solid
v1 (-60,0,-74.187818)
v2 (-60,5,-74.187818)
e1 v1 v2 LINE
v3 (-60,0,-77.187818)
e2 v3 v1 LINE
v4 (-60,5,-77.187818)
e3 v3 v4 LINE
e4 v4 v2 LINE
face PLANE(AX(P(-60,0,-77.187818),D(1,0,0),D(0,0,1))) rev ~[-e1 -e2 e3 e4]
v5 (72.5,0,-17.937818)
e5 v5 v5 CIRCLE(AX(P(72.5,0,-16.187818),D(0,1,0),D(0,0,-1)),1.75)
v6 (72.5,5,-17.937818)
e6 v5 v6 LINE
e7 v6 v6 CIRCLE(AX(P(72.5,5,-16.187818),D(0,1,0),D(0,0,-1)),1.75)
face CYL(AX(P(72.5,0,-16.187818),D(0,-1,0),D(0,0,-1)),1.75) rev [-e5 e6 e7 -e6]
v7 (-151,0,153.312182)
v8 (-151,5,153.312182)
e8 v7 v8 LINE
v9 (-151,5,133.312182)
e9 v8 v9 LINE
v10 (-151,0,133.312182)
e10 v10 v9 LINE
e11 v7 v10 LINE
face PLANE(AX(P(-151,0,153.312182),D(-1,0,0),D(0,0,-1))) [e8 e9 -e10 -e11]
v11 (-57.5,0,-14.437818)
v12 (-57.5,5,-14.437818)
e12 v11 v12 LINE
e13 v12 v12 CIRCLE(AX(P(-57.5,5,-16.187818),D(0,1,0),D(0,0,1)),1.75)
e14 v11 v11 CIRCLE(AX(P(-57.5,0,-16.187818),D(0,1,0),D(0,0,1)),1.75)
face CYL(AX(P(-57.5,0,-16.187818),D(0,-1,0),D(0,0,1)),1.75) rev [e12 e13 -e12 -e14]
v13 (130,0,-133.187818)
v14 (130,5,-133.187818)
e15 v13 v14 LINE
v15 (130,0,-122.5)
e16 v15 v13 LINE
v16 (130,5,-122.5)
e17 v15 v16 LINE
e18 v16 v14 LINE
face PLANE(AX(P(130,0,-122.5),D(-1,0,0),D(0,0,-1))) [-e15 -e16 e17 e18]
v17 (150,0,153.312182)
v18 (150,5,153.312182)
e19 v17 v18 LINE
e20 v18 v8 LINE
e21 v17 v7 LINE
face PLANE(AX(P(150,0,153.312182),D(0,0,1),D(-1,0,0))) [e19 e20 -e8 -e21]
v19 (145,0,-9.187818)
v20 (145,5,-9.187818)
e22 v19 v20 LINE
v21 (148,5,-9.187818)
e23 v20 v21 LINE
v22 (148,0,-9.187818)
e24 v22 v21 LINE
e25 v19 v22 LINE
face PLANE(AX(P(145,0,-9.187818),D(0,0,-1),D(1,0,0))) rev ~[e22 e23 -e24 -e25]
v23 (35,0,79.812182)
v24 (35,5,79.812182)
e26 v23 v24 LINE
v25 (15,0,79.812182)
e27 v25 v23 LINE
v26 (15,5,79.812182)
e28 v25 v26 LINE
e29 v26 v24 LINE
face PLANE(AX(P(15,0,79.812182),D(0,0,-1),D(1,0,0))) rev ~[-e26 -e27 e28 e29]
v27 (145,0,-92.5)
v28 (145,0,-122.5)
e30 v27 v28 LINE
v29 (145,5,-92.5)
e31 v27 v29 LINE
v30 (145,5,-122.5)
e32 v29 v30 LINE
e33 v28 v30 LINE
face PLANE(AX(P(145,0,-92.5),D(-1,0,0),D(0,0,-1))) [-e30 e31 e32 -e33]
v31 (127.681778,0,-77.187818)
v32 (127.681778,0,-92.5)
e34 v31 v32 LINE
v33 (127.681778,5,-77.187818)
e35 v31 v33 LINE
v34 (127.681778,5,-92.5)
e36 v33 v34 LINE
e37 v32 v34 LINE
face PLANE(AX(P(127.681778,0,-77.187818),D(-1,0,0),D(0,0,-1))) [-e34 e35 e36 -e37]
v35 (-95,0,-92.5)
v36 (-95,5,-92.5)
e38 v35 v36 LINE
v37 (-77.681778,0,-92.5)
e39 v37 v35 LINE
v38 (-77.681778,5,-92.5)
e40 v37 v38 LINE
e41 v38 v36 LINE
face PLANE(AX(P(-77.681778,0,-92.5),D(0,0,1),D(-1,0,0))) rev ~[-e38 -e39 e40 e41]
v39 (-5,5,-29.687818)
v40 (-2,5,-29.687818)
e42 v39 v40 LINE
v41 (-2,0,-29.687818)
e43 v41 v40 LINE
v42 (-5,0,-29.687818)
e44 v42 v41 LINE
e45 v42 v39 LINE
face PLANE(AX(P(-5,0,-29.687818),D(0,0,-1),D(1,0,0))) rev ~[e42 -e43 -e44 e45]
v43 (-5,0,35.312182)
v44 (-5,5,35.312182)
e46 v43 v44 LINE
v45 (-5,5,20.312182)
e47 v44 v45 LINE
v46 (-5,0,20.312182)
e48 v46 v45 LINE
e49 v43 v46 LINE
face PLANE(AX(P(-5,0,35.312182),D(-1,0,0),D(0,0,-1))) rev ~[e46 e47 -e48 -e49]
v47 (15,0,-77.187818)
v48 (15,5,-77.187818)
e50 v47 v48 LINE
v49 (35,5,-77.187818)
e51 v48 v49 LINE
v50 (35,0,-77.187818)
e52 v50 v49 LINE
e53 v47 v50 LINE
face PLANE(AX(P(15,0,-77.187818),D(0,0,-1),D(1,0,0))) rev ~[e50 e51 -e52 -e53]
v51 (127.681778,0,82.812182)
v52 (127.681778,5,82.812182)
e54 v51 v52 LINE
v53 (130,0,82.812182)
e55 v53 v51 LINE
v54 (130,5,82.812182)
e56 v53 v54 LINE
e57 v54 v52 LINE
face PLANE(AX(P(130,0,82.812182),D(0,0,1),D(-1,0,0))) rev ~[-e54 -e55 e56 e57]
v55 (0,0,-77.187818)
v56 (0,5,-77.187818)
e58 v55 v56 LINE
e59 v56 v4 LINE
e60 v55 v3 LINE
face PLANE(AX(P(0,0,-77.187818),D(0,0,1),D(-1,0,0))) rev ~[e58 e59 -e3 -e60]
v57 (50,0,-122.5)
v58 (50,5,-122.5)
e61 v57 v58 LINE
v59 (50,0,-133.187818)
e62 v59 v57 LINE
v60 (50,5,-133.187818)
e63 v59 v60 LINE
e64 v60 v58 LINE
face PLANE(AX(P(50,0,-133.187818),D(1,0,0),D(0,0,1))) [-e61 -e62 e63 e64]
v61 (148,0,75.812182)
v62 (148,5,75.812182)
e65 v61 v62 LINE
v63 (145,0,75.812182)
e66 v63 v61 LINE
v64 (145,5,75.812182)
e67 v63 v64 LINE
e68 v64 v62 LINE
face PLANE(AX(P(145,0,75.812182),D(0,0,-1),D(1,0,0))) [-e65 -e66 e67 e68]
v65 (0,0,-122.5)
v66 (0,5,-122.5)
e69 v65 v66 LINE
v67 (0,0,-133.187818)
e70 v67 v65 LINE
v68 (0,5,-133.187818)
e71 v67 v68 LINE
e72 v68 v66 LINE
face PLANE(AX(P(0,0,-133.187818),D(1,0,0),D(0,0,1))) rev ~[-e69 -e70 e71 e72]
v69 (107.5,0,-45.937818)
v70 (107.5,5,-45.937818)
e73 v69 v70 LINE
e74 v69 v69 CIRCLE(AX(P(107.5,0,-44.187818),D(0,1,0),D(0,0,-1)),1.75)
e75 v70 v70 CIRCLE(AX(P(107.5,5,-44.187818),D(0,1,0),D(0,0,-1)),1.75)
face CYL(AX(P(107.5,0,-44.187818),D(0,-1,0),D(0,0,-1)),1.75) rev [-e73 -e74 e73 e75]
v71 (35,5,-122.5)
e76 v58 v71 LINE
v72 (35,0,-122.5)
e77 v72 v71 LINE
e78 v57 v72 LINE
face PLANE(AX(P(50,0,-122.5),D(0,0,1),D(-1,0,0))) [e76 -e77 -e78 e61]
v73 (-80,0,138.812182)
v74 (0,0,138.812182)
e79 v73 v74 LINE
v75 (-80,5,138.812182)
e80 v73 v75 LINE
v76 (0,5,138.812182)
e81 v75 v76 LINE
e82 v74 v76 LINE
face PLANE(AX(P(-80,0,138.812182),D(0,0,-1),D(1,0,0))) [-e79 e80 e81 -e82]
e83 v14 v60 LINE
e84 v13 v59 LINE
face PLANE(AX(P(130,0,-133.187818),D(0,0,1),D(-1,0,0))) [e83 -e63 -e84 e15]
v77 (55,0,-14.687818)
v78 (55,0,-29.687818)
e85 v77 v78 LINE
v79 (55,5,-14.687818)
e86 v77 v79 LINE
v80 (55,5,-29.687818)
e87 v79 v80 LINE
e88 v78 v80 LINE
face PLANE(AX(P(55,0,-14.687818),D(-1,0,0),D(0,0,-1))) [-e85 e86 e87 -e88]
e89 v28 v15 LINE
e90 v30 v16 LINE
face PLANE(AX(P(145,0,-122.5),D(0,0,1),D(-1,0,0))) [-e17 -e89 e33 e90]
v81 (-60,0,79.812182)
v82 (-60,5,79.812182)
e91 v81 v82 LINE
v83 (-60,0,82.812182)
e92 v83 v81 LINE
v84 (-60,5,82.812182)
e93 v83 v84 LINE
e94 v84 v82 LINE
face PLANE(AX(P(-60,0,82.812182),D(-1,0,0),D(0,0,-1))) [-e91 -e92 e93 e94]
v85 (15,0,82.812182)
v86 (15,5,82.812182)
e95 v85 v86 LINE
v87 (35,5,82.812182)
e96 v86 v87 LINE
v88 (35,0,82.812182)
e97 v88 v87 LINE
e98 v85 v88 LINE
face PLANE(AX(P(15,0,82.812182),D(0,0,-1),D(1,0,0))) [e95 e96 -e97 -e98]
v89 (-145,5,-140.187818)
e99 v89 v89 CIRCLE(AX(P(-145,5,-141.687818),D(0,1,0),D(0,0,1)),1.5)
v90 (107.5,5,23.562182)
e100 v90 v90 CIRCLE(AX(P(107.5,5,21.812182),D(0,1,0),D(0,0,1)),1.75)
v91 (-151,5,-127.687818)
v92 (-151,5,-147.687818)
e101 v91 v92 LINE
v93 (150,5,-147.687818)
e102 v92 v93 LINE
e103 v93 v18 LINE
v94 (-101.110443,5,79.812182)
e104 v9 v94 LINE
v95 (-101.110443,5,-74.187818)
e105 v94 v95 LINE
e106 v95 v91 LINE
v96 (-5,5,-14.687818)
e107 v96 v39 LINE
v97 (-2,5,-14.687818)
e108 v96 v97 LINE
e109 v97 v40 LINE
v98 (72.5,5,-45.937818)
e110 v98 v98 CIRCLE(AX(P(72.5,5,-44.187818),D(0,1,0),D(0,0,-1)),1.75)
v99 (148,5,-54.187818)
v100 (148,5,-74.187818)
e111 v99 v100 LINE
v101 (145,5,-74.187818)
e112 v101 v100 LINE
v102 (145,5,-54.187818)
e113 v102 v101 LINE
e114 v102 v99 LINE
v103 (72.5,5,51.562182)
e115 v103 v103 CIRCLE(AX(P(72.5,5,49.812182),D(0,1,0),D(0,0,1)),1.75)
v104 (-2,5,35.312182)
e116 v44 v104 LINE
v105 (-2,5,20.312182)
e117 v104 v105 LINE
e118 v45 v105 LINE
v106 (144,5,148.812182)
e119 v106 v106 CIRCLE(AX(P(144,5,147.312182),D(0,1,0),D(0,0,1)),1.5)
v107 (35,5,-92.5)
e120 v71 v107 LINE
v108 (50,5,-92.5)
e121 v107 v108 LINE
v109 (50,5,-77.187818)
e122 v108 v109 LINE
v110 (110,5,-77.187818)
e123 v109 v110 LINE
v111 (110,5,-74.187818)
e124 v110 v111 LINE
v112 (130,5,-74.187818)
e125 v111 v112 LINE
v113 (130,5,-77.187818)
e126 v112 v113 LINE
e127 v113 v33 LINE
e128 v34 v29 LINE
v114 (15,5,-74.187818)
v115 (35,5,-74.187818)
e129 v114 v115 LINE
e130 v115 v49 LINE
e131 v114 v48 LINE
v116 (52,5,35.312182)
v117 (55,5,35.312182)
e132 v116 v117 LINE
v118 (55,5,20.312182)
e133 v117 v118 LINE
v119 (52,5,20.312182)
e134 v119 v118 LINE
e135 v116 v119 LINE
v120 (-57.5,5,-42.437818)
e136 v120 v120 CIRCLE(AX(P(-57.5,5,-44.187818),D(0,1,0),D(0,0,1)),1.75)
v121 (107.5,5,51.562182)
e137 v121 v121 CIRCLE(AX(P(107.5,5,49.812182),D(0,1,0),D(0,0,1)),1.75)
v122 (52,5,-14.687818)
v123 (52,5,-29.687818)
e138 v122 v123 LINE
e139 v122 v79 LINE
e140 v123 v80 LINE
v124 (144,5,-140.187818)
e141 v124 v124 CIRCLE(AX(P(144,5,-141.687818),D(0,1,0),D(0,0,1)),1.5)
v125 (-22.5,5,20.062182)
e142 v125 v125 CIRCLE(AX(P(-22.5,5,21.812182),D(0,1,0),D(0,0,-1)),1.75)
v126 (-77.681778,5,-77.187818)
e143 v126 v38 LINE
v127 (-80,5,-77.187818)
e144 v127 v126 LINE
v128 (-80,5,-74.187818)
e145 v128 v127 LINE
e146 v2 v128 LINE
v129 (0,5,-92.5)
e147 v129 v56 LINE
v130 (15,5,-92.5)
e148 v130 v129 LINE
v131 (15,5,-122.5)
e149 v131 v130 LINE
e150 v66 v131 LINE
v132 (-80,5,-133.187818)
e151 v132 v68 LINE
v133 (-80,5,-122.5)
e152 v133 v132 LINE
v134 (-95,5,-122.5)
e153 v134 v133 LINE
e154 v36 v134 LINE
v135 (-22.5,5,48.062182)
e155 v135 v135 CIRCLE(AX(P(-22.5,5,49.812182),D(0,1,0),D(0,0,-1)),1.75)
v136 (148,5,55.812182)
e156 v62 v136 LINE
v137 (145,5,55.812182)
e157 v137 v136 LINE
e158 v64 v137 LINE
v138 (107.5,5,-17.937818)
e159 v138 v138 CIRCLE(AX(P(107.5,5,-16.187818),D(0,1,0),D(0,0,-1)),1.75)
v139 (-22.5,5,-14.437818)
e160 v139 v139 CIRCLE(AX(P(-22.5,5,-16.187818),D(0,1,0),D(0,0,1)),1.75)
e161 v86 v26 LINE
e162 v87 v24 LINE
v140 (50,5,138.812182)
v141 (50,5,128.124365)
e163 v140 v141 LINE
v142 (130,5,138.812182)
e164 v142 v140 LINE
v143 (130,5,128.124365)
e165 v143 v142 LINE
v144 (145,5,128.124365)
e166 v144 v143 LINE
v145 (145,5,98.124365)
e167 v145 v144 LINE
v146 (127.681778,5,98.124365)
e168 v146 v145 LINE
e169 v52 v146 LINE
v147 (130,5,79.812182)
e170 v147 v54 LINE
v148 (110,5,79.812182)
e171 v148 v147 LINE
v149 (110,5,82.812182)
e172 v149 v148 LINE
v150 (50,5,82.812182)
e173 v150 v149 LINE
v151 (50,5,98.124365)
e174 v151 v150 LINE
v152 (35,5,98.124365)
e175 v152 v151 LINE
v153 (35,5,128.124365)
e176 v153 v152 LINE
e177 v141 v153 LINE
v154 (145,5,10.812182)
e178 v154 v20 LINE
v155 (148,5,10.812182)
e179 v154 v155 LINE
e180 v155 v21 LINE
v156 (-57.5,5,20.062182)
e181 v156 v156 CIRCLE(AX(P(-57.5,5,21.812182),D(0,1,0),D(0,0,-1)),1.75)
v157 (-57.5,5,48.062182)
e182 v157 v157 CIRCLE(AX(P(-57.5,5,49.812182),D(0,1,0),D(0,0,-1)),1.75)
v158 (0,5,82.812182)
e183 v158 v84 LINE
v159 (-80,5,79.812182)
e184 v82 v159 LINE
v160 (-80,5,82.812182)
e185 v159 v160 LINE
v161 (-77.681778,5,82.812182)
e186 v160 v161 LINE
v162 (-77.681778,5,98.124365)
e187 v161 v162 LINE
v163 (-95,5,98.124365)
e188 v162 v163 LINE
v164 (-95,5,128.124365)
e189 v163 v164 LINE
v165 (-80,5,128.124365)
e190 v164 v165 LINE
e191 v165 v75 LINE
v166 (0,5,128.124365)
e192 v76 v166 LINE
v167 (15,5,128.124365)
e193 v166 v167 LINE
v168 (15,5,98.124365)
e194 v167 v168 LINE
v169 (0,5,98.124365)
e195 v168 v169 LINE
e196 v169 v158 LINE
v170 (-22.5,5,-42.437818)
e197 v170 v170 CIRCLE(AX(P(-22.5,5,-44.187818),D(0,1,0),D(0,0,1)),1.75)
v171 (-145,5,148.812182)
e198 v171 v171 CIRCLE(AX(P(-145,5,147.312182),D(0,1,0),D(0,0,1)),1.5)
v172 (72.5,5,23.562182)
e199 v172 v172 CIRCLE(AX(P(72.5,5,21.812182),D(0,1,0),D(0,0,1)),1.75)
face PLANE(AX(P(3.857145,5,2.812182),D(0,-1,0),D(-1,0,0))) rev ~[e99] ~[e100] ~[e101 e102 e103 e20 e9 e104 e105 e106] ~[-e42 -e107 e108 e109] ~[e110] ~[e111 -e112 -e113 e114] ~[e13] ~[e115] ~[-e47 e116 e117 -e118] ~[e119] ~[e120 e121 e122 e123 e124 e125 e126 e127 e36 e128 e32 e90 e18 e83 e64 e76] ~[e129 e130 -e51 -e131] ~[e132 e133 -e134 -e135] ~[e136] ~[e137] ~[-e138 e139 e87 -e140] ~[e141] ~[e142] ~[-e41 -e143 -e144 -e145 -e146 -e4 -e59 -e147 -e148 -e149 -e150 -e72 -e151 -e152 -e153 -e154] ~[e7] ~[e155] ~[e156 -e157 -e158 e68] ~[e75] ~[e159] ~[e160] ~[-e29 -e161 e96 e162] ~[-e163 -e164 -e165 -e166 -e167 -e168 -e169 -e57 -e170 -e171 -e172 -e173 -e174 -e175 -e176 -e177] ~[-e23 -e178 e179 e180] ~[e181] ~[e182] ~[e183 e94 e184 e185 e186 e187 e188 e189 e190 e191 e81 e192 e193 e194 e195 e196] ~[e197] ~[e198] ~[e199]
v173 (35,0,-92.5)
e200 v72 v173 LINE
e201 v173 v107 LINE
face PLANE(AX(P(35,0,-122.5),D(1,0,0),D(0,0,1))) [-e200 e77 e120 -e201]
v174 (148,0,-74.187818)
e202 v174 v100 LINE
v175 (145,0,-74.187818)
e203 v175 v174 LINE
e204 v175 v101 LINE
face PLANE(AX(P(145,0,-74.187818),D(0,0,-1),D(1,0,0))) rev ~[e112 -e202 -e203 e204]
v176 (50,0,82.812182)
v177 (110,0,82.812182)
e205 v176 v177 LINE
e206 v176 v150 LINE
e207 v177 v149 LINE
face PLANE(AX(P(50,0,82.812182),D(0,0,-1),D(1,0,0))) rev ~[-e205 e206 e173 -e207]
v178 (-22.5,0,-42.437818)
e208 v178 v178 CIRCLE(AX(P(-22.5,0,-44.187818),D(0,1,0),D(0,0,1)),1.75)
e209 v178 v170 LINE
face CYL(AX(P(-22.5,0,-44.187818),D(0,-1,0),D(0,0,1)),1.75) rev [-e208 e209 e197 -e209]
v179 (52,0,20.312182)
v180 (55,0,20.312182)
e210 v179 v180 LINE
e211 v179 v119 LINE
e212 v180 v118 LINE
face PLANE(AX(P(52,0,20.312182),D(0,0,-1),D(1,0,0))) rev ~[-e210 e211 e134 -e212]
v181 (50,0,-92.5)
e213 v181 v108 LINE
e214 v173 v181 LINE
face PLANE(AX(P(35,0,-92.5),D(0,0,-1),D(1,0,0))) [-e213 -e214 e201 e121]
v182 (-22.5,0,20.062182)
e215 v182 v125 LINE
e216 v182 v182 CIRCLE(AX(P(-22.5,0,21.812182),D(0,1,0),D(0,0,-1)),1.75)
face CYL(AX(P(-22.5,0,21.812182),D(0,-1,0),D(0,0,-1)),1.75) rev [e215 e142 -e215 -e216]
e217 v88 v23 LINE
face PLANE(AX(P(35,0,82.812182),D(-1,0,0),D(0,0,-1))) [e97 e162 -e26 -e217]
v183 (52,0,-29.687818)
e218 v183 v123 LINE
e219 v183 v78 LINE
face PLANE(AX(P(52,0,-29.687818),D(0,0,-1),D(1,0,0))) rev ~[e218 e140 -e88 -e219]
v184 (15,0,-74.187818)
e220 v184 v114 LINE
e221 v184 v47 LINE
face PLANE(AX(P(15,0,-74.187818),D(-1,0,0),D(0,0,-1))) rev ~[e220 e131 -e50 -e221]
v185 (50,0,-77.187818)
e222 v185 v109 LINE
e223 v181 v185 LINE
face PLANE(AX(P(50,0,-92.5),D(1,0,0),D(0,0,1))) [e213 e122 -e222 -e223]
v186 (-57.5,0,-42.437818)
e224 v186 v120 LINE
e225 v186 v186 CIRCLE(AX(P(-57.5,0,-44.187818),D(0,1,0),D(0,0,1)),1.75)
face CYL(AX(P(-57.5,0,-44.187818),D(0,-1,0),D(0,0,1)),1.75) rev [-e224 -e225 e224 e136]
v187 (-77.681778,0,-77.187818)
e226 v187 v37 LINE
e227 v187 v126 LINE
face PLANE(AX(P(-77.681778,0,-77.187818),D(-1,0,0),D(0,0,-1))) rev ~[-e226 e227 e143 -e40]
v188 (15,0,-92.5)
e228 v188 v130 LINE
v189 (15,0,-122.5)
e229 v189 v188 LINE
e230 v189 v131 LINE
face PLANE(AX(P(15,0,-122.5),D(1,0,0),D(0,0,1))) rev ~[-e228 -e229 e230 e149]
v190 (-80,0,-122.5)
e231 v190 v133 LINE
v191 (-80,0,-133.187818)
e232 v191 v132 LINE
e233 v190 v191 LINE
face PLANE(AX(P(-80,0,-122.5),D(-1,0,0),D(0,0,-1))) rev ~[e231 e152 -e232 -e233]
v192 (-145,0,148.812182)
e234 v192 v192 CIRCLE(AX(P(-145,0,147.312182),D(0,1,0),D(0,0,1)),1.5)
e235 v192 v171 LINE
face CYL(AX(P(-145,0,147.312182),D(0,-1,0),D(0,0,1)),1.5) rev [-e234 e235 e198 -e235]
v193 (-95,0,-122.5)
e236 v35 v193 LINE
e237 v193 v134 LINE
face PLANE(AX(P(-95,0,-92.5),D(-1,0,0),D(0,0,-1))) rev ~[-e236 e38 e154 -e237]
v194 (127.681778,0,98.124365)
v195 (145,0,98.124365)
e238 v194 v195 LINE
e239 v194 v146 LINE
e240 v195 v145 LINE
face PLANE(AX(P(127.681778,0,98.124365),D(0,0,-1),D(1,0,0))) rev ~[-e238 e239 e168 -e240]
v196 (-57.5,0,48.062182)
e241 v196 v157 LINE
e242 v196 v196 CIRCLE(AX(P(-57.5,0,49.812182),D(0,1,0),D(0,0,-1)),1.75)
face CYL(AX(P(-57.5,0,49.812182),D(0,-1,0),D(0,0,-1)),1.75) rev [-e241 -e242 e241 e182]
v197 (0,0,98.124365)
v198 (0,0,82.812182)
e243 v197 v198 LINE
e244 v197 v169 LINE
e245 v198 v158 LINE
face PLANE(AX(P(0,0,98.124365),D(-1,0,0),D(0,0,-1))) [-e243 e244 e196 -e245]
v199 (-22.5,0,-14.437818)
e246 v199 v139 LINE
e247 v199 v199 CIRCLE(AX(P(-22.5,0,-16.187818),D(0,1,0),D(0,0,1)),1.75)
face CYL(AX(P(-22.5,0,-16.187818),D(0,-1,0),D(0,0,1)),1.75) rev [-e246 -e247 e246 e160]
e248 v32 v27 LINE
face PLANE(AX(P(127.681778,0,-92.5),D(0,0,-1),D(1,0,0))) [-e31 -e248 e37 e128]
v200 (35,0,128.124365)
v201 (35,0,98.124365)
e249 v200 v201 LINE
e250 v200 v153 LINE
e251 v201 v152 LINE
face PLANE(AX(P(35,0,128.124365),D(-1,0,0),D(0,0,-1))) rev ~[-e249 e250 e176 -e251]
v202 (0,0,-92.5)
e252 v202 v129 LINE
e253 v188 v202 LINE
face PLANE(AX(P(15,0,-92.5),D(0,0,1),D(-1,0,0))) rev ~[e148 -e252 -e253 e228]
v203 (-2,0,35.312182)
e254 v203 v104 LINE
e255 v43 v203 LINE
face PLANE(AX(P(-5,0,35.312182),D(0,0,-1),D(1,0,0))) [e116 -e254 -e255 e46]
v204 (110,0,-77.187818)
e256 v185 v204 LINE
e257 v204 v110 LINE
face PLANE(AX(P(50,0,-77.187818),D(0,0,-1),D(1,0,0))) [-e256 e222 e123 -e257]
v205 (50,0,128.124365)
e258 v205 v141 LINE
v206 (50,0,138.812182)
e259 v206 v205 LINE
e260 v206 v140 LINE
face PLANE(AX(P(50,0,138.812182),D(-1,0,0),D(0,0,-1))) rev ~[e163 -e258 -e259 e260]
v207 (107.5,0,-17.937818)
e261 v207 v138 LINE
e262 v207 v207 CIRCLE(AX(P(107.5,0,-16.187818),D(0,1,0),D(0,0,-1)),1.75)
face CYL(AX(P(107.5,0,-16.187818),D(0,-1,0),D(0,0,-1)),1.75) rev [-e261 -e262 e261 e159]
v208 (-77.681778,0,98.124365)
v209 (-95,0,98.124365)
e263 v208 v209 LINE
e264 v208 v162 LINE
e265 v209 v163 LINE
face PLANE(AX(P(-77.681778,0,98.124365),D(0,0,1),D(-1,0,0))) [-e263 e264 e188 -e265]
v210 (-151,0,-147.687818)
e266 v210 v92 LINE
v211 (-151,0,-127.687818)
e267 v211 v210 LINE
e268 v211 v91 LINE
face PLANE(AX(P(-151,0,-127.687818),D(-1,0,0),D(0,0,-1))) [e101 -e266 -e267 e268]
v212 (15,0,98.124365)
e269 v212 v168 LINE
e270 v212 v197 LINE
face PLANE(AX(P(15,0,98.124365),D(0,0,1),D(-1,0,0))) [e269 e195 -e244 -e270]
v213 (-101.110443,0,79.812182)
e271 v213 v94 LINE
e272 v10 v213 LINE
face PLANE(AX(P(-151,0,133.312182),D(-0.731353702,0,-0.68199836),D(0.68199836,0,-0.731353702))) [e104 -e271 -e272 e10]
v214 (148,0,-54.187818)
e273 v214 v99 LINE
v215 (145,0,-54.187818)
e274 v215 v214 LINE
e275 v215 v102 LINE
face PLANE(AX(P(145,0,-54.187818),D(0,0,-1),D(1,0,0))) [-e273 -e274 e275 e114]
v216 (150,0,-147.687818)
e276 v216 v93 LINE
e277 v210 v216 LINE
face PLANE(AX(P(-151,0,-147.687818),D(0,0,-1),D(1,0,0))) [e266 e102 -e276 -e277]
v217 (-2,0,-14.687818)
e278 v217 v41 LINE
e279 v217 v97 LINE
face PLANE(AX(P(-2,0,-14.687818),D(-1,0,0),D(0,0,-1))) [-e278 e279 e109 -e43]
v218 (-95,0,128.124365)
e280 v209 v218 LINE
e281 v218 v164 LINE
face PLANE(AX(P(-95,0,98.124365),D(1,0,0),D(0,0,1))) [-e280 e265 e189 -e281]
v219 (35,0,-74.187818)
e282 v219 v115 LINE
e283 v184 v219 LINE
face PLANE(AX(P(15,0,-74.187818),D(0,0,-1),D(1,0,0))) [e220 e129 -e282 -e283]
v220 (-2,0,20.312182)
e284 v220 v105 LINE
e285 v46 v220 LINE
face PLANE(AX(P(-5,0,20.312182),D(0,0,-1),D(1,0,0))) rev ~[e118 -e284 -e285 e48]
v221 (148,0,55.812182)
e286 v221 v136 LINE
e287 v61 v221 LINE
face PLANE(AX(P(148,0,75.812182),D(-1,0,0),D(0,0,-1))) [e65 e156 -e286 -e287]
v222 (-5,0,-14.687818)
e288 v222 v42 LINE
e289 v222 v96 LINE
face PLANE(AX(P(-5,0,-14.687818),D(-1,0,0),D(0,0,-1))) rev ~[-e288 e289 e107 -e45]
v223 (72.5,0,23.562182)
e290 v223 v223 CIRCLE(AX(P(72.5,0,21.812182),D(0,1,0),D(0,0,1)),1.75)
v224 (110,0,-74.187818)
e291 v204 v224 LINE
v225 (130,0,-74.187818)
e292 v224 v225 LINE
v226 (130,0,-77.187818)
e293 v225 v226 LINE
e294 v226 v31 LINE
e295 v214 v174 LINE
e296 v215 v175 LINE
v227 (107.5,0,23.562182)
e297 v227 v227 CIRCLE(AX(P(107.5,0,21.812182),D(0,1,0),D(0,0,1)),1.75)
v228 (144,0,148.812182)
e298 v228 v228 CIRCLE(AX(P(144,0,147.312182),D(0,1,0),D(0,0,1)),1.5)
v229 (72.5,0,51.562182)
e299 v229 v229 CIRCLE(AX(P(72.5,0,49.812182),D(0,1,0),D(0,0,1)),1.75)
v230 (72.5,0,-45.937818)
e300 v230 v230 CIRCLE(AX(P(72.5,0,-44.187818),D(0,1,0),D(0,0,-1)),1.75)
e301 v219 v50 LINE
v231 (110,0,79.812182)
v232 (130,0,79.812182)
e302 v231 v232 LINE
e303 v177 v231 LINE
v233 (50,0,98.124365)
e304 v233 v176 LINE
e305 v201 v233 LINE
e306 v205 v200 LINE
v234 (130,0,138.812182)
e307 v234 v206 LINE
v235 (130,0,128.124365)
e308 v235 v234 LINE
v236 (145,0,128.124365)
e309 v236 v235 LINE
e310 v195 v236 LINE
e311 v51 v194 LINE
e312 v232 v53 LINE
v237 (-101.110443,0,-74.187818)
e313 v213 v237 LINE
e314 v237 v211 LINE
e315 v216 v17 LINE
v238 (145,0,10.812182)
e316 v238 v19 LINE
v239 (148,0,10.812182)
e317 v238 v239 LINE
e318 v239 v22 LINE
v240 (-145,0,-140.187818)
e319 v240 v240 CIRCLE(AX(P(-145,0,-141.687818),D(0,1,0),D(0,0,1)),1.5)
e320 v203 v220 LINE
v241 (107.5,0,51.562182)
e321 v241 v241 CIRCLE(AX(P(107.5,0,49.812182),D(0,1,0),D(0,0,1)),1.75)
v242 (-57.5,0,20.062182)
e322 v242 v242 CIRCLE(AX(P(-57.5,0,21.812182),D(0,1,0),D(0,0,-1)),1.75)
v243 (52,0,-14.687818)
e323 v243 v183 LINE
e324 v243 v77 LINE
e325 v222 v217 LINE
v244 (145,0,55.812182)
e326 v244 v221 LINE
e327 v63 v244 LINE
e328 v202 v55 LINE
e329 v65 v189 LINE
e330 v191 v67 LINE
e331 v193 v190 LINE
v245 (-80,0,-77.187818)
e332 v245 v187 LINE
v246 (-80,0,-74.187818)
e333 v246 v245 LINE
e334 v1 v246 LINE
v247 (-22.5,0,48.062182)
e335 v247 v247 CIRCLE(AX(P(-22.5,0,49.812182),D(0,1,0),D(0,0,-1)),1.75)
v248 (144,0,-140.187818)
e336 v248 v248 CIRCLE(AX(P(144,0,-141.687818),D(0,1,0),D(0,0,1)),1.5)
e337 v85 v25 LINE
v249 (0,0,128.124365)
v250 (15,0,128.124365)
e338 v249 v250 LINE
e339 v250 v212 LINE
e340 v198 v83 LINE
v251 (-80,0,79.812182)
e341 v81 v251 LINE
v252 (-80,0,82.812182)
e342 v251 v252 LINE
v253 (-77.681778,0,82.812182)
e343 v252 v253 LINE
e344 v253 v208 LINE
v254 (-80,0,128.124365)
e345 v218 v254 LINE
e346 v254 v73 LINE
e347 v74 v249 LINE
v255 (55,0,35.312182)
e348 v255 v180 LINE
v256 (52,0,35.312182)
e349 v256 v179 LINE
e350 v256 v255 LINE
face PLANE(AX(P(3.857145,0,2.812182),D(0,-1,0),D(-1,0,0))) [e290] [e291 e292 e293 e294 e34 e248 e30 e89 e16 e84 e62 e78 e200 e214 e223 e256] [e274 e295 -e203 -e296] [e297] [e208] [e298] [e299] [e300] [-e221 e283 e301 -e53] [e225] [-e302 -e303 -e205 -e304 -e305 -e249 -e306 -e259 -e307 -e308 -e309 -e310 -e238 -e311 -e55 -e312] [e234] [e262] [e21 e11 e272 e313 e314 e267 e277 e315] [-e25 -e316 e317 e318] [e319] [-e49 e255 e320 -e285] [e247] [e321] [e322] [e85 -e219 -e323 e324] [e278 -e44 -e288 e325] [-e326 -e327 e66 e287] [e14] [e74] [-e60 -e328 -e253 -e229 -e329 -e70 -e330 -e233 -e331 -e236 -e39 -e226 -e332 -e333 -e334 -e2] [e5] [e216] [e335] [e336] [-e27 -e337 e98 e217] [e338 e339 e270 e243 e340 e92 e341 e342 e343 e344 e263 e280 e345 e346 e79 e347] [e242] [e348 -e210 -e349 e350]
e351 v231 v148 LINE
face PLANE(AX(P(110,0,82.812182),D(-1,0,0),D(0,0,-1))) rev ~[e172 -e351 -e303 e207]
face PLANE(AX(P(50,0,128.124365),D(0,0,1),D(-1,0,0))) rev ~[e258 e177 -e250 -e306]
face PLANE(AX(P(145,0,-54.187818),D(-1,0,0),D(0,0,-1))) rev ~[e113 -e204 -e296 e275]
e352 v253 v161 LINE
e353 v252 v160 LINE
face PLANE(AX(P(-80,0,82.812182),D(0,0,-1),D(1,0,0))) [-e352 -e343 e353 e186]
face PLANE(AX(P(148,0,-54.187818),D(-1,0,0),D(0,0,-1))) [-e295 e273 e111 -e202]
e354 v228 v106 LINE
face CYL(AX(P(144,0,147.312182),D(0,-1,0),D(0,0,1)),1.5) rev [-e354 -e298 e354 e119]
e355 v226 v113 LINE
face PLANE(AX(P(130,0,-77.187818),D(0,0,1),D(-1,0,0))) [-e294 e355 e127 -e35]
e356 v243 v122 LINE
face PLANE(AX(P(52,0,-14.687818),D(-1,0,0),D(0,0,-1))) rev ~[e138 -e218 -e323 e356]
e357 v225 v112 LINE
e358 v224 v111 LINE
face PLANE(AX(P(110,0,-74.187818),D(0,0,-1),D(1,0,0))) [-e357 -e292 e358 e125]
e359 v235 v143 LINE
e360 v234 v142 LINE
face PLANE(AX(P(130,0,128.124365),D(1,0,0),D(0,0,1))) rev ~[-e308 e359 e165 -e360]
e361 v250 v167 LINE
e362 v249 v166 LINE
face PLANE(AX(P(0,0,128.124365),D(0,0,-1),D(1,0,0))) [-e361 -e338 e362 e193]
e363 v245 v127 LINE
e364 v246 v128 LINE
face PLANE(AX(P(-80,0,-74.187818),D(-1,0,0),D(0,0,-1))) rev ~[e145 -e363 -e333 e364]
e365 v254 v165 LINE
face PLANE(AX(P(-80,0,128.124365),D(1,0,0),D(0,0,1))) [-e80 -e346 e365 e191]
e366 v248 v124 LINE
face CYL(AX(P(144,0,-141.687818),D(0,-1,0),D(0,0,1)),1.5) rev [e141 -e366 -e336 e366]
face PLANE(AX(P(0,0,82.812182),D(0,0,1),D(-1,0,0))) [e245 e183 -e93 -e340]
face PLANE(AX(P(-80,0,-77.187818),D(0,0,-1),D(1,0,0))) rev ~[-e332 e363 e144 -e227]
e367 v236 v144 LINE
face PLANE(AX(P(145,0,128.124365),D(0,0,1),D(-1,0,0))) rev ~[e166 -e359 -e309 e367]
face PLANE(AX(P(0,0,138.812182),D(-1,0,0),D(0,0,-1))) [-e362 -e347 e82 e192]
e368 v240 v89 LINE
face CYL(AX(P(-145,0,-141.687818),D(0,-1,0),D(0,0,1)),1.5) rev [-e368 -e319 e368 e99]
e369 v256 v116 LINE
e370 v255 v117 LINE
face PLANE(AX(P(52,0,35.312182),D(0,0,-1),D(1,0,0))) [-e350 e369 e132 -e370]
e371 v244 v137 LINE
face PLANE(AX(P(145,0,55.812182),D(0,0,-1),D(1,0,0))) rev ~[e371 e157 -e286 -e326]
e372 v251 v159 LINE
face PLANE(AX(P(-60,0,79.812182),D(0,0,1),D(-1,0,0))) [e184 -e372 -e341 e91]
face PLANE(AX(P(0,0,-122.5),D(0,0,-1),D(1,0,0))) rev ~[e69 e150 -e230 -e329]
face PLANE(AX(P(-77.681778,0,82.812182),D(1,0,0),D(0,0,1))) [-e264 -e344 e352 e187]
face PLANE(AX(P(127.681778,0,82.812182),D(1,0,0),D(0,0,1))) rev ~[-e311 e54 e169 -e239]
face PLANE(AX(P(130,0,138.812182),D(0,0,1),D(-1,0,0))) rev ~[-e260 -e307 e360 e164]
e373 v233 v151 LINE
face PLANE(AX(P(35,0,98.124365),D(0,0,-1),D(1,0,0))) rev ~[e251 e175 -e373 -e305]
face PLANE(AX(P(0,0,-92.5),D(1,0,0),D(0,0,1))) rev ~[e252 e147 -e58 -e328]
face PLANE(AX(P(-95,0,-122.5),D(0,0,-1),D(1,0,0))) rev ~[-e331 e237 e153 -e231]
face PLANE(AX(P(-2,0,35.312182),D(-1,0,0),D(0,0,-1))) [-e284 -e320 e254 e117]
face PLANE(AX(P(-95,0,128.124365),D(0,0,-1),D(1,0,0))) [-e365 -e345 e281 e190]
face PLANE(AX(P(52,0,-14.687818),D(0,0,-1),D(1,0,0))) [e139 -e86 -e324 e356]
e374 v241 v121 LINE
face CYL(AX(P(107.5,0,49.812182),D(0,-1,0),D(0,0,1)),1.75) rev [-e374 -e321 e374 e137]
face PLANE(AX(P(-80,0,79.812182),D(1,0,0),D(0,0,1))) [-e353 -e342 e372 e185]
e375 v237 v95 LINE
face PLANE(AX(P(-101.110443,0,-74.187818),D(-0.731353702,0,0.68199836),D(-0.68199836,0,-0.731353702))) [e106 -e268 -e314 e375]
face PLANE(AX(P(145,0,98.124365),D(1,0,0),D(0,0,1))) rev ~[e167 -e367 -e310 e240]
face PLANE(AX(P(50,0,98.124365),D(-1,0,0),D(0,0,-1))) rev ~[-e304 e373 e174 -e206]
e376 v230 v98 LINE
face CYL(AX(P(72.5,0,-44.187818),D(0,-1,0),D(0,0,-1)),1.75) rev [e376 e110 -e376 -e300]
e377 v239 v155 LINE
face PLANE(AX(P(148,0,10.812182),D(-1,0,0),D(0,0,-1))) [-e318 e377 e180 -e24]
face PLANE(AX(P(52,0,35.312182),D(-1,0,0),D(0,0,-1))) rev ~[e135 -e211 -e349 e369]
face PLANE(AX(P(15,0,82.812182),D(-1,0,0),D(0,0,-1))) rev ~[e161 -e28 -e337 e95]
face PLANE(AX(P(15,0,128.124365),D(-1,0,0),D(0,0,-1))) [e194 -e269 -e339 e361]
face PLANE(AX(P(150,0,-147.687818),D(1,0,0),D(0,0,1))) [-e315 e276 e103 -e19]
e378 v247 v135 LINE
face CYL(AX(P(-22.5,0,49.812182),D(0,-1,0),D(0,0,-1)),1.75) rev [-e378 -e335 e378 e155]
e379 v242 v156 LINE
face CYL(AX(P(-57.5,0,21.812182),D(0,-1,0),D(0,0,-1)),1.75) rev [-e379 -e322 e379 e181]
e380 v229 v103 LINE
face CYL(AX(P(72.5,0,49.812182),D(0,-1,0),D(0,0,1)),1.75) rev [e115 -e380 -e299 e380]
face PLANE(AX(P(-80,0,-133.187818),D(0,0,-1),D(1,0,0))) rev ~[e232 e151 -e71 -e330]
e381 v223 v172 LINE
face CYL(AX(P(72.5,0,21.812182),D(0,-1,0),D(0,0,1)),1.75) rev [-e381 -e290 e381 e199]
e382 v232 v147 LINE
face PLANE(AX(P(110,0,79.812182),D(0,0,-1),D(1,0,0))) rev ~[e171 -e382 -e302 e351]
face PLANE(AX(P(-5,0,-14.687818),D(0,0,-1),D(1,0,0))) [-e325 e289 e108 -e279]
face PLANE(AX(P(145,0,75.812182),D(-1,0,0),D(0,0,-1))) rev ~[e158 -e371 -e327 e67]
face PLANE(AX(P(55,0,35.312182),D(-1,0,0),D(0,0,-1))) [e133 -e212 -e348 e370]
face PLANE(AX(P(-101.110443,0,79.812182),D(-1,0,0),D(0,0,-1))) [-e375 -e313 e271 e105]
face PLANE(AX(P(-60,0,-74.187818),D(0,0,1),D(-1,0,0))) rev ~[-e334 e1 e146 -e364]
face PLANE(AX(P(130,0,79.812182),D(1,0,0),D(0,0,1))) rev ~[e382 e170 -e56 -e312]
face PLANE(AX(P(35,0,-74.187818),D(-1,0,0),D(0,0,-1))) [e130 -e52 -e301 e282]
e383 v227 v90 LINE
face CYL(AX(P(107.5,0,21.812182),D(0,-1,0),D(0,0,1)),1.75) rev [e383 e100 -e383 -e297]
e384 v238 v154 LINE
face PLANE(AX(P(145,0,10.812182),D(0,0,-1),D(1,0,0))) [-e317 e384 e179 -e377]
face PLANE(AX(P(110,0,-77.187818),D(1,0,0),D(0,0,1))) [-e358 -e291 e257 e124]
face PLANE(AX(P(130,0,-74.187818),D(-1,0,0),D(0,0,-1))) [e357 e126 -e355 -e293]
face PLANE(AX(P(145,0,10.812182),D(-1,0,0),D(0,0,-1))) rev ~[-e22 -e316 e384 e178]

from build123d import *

# Parameters (mm, degrees)
SKETCH1_R           = 1.75
SKETCH1_R_2         = 1.5
SKETCH1_W           = 20
SKETCH1_H           = 3
SKETCH1_W_2         = 3
SKETCH1_H_2         = 15
SKETCH1_H_3         = 20
BOSS_EXTRUDE1_DEPTH = 5


with BuildPart() as part:
    # Sketch1 → Boss-Extrude1 (new body)
    with BuildSketch(Plane(origin=(0, 0, 0), x_dir=(1, 0, 0), z_dir=(0, 1, 0))):
        Polygon((-151, 147.687817745), (150, 147.687817745), (150, -153.312182255), (-151, -153.312182255), (-151, -133.312182255), (-101.110442892, -79.812182255), (-101.110442892, 74.187817745), (-151, 127.687817745), align=None)
        with Locations(Location((-57.5, 44.187817745, 0), (0, 0, 270))):
            Circle(SKETCH1_R, mode=Mode.SUBTRACT)
        with Locations(Location((-22.5, 44.187817745, 0), (0, 0, 270))):
            Circle(SKETCH1_R, mode=Mode.SUBTRACT)
        with Locations(Location((-22.5, 16.187817745, 0), (0, 0, 270))):
            Circle(SKETCH1_R, mode=Mode.SUBTRACT)
        with Locations(Location((-57.5, 16.187817745, 0), (0, 0, 270))):
            Circle(SKETCH1_R, mode=Mode.SUBTRACT)
        with Locations(Location((107.5, 16.187817745, 0), (0, 0, 90))):
            Circle(SKETCH1_R, mode=Mode.SUBTRACT)
        with Locations(Location((72.5, 16.187817745, 0), (0, 0, 90))):
            Circle(SKETCH1_R, mode=Mode.SUBTRACT)
        with Locations(Location((72.5, 44.187817745, 0), (0, 0, 90))):
            Circle(SKETCH1_R, mode=Mode.SUBTRACT)
        with Locations(Location((107.5, 44.187817745, 0), (0, 0, 90))):
            Circle(SKETCH1_R, mode=Mode.SUBTRACT)
        with Locations(Location((107.5, -49.812182255, 0), (0, 0, 270))):
            Circle(SKETCH1_R, mode=Mode.SUBTRACT)
        with Locations(Location((72.5, -49.812182255, 0), (0, 0, 270))):
            Circle(SKETCH1_R, mode=Mode.SUBTRACT)
        with Locations(Location((72.5, -21.812182255, 0), (0, 0, 270))):
            Circle(SKETCH1_R, mode=Mode.SUBTRACT)
        with Locations(Location((107.5, -21.812182255, 0), (0, 0, 270))):
            Circle(SKETCH1_R, mode=Mode.SUBTRACT)
        with Locations(Location((-57.5, -21.812182255, 0), (0, 0, 90))):
            Circle(SKETCH1_R, mode=Mode.SUBTRACT)
        with Locations(Location((-22.5, -21.812182255, 0), (0, 0, 90))):
            Circle(SKETCH1_R, mode=Mode.SUBTRACT)
        with Locations(Location((-22.5, -49.812182255, 0), (0, 0, 90))):
            Circle(SKETCH1_R, mode=Mode.SUBTRACT)
        with Locations(Location((-57.5, -49.812182255, 0), (0, 0, 90))):
            Circle(SKETCH1_R, mode=Mode.SUBTRACT)
        with Locations(Location((144, -147.312182255, 0), (0, 0, 270))):
            Circle(SKETCH1_R_2, mode=Mode.SUBTRACT)
        with Locations(Location((-145, -147.312182255, 0), (0, 0, 270))):
            Circle(SKETCH1_R_2, mode=Mode.SUBTRACT)
        with Locations(Location((144, 141.687817745, 0), (0, 0, 270))):
            Circle(SKETCH1_R_2, mode=Mode.SUBTRACT)
        with Locations(Location((-145, 141.687817745, 0), (0, 0, 270))):
            Circle(SKETCH1_R_2, mode=Mode.SUBTRACT)
        Polygon((35, 122.5), (35, 92.5), (50, 92.5), (50, 77.187817745), (110, 77.187817745), (110, 74.187817745), (130, 74.187817745), (130, 77.187817745), (127.68177751, 77.187817745), (127.68177751, 92.5), (145, 92.5), (145, 122.5), (130, 122.5), (130, 133.187817745), (50, 133.187817745), (50, 122.5), align=None, mode=Mode.SUBTRACT)
        Polygon((-77.68177751, 77.187817745), (-77.68177751, 92.5), (-95, 92.5), (-95, 122.5), (-80, 122.5), (-80, 133.187817745), (0, 133.187817745), (0, 122.5), (15, 122.5), (15, 92.5), (0, 92.5), (0, 77.187817745), (-60, 77.187817745), (-60, 74.187817745), (-80, 74.187817745), (-80, 77.187817745), align=None, mode=Mode.SUBTRACT)
        Polygon((-60, -82.812182255), (-60, -79.812182255), (-80, -79.812182255), (-80, -82.812182255), (-77.68177751, -82.812182255), (-77.68177751, -98.124364509), (-95, -98.124364509), (-95, -128.124364509), (-80, -128.124364509), (-80, -138.812182255), (0, -138.812182255), (0, -128.124364509), (15, -128.124364509), (15, -98.124364509), (0, -98.124364509), (0, -82.812182255), align=None, mode=Mode.SUBTRACT)
        with Locations((25, -81.312182255)):
            Rectangle(SKETCH1_W, SKETCH1_H, mode=Mode.SUBTRACT)
        Polygon((130, -79.812182255), (130, -82.812182255), (127.68177751, -82.812182255), (127.68177751, -98.124364509), (145, -98.124364509), (145, -128.124364509), (130, -128.124364509), (130, -138.812182255), (50, -138.812182255), (50, -128.124364509), (35, -128.124364509), (35, -98.124364509), (50, -98.124364509), (50, -82.812182255), (110, -82.812182255), (110, -79.812182255), align=None, mode=Mode.SUBTRACT)
        with Locations((25, 75.687817745)):
            Rectangle(SKETCH1_W, SKETCH1_H, mode=Mode.SUBTRACT)
        with Locations((-3.5, 22.187817745)):
            Rectangle(SKETCH1_W_2, SKETCH1_H_2, mode=Mode.SUBTRACT)
        with Locations((-3.5, -27.812182255)):
            Rectangle(SKETCH1_W_2, SKETCH1_H_2, mode=Mode.SUBTRACT)
        with Locations((53.5, -27.812182255)):
            Rectangle(SKETCH1_W_2, SKETCH1_H_2, mode=Mode.SUBTRACT)
        with Locations((53.5, 22.187817745)):
            Rectangle(SKETCH1_W_2, SKETCH1_H_2, mode=Mode.SUBTRACT)
        with Locations((146.5, 64.187817745)):
            Rectangle(SKETCH1_W_2, SKETCH1_H_3, mode=Mode.SUBTRACT)
        with Locations((146.5, -0.812182255)):
            Rectangle(SKETCH1_W_2, SKETCH1_H_3, mode=Mode.SUBTRACT)
        with Locations((146.5, -65.812182255)):
            Rectangle(SKETCH1_W_2, SKETCH1_H_3, mode=Mode.SUBTRACT)
    extrude(amount=BOSS_EXTRUDE1_DEPTH)


solid = part.part
